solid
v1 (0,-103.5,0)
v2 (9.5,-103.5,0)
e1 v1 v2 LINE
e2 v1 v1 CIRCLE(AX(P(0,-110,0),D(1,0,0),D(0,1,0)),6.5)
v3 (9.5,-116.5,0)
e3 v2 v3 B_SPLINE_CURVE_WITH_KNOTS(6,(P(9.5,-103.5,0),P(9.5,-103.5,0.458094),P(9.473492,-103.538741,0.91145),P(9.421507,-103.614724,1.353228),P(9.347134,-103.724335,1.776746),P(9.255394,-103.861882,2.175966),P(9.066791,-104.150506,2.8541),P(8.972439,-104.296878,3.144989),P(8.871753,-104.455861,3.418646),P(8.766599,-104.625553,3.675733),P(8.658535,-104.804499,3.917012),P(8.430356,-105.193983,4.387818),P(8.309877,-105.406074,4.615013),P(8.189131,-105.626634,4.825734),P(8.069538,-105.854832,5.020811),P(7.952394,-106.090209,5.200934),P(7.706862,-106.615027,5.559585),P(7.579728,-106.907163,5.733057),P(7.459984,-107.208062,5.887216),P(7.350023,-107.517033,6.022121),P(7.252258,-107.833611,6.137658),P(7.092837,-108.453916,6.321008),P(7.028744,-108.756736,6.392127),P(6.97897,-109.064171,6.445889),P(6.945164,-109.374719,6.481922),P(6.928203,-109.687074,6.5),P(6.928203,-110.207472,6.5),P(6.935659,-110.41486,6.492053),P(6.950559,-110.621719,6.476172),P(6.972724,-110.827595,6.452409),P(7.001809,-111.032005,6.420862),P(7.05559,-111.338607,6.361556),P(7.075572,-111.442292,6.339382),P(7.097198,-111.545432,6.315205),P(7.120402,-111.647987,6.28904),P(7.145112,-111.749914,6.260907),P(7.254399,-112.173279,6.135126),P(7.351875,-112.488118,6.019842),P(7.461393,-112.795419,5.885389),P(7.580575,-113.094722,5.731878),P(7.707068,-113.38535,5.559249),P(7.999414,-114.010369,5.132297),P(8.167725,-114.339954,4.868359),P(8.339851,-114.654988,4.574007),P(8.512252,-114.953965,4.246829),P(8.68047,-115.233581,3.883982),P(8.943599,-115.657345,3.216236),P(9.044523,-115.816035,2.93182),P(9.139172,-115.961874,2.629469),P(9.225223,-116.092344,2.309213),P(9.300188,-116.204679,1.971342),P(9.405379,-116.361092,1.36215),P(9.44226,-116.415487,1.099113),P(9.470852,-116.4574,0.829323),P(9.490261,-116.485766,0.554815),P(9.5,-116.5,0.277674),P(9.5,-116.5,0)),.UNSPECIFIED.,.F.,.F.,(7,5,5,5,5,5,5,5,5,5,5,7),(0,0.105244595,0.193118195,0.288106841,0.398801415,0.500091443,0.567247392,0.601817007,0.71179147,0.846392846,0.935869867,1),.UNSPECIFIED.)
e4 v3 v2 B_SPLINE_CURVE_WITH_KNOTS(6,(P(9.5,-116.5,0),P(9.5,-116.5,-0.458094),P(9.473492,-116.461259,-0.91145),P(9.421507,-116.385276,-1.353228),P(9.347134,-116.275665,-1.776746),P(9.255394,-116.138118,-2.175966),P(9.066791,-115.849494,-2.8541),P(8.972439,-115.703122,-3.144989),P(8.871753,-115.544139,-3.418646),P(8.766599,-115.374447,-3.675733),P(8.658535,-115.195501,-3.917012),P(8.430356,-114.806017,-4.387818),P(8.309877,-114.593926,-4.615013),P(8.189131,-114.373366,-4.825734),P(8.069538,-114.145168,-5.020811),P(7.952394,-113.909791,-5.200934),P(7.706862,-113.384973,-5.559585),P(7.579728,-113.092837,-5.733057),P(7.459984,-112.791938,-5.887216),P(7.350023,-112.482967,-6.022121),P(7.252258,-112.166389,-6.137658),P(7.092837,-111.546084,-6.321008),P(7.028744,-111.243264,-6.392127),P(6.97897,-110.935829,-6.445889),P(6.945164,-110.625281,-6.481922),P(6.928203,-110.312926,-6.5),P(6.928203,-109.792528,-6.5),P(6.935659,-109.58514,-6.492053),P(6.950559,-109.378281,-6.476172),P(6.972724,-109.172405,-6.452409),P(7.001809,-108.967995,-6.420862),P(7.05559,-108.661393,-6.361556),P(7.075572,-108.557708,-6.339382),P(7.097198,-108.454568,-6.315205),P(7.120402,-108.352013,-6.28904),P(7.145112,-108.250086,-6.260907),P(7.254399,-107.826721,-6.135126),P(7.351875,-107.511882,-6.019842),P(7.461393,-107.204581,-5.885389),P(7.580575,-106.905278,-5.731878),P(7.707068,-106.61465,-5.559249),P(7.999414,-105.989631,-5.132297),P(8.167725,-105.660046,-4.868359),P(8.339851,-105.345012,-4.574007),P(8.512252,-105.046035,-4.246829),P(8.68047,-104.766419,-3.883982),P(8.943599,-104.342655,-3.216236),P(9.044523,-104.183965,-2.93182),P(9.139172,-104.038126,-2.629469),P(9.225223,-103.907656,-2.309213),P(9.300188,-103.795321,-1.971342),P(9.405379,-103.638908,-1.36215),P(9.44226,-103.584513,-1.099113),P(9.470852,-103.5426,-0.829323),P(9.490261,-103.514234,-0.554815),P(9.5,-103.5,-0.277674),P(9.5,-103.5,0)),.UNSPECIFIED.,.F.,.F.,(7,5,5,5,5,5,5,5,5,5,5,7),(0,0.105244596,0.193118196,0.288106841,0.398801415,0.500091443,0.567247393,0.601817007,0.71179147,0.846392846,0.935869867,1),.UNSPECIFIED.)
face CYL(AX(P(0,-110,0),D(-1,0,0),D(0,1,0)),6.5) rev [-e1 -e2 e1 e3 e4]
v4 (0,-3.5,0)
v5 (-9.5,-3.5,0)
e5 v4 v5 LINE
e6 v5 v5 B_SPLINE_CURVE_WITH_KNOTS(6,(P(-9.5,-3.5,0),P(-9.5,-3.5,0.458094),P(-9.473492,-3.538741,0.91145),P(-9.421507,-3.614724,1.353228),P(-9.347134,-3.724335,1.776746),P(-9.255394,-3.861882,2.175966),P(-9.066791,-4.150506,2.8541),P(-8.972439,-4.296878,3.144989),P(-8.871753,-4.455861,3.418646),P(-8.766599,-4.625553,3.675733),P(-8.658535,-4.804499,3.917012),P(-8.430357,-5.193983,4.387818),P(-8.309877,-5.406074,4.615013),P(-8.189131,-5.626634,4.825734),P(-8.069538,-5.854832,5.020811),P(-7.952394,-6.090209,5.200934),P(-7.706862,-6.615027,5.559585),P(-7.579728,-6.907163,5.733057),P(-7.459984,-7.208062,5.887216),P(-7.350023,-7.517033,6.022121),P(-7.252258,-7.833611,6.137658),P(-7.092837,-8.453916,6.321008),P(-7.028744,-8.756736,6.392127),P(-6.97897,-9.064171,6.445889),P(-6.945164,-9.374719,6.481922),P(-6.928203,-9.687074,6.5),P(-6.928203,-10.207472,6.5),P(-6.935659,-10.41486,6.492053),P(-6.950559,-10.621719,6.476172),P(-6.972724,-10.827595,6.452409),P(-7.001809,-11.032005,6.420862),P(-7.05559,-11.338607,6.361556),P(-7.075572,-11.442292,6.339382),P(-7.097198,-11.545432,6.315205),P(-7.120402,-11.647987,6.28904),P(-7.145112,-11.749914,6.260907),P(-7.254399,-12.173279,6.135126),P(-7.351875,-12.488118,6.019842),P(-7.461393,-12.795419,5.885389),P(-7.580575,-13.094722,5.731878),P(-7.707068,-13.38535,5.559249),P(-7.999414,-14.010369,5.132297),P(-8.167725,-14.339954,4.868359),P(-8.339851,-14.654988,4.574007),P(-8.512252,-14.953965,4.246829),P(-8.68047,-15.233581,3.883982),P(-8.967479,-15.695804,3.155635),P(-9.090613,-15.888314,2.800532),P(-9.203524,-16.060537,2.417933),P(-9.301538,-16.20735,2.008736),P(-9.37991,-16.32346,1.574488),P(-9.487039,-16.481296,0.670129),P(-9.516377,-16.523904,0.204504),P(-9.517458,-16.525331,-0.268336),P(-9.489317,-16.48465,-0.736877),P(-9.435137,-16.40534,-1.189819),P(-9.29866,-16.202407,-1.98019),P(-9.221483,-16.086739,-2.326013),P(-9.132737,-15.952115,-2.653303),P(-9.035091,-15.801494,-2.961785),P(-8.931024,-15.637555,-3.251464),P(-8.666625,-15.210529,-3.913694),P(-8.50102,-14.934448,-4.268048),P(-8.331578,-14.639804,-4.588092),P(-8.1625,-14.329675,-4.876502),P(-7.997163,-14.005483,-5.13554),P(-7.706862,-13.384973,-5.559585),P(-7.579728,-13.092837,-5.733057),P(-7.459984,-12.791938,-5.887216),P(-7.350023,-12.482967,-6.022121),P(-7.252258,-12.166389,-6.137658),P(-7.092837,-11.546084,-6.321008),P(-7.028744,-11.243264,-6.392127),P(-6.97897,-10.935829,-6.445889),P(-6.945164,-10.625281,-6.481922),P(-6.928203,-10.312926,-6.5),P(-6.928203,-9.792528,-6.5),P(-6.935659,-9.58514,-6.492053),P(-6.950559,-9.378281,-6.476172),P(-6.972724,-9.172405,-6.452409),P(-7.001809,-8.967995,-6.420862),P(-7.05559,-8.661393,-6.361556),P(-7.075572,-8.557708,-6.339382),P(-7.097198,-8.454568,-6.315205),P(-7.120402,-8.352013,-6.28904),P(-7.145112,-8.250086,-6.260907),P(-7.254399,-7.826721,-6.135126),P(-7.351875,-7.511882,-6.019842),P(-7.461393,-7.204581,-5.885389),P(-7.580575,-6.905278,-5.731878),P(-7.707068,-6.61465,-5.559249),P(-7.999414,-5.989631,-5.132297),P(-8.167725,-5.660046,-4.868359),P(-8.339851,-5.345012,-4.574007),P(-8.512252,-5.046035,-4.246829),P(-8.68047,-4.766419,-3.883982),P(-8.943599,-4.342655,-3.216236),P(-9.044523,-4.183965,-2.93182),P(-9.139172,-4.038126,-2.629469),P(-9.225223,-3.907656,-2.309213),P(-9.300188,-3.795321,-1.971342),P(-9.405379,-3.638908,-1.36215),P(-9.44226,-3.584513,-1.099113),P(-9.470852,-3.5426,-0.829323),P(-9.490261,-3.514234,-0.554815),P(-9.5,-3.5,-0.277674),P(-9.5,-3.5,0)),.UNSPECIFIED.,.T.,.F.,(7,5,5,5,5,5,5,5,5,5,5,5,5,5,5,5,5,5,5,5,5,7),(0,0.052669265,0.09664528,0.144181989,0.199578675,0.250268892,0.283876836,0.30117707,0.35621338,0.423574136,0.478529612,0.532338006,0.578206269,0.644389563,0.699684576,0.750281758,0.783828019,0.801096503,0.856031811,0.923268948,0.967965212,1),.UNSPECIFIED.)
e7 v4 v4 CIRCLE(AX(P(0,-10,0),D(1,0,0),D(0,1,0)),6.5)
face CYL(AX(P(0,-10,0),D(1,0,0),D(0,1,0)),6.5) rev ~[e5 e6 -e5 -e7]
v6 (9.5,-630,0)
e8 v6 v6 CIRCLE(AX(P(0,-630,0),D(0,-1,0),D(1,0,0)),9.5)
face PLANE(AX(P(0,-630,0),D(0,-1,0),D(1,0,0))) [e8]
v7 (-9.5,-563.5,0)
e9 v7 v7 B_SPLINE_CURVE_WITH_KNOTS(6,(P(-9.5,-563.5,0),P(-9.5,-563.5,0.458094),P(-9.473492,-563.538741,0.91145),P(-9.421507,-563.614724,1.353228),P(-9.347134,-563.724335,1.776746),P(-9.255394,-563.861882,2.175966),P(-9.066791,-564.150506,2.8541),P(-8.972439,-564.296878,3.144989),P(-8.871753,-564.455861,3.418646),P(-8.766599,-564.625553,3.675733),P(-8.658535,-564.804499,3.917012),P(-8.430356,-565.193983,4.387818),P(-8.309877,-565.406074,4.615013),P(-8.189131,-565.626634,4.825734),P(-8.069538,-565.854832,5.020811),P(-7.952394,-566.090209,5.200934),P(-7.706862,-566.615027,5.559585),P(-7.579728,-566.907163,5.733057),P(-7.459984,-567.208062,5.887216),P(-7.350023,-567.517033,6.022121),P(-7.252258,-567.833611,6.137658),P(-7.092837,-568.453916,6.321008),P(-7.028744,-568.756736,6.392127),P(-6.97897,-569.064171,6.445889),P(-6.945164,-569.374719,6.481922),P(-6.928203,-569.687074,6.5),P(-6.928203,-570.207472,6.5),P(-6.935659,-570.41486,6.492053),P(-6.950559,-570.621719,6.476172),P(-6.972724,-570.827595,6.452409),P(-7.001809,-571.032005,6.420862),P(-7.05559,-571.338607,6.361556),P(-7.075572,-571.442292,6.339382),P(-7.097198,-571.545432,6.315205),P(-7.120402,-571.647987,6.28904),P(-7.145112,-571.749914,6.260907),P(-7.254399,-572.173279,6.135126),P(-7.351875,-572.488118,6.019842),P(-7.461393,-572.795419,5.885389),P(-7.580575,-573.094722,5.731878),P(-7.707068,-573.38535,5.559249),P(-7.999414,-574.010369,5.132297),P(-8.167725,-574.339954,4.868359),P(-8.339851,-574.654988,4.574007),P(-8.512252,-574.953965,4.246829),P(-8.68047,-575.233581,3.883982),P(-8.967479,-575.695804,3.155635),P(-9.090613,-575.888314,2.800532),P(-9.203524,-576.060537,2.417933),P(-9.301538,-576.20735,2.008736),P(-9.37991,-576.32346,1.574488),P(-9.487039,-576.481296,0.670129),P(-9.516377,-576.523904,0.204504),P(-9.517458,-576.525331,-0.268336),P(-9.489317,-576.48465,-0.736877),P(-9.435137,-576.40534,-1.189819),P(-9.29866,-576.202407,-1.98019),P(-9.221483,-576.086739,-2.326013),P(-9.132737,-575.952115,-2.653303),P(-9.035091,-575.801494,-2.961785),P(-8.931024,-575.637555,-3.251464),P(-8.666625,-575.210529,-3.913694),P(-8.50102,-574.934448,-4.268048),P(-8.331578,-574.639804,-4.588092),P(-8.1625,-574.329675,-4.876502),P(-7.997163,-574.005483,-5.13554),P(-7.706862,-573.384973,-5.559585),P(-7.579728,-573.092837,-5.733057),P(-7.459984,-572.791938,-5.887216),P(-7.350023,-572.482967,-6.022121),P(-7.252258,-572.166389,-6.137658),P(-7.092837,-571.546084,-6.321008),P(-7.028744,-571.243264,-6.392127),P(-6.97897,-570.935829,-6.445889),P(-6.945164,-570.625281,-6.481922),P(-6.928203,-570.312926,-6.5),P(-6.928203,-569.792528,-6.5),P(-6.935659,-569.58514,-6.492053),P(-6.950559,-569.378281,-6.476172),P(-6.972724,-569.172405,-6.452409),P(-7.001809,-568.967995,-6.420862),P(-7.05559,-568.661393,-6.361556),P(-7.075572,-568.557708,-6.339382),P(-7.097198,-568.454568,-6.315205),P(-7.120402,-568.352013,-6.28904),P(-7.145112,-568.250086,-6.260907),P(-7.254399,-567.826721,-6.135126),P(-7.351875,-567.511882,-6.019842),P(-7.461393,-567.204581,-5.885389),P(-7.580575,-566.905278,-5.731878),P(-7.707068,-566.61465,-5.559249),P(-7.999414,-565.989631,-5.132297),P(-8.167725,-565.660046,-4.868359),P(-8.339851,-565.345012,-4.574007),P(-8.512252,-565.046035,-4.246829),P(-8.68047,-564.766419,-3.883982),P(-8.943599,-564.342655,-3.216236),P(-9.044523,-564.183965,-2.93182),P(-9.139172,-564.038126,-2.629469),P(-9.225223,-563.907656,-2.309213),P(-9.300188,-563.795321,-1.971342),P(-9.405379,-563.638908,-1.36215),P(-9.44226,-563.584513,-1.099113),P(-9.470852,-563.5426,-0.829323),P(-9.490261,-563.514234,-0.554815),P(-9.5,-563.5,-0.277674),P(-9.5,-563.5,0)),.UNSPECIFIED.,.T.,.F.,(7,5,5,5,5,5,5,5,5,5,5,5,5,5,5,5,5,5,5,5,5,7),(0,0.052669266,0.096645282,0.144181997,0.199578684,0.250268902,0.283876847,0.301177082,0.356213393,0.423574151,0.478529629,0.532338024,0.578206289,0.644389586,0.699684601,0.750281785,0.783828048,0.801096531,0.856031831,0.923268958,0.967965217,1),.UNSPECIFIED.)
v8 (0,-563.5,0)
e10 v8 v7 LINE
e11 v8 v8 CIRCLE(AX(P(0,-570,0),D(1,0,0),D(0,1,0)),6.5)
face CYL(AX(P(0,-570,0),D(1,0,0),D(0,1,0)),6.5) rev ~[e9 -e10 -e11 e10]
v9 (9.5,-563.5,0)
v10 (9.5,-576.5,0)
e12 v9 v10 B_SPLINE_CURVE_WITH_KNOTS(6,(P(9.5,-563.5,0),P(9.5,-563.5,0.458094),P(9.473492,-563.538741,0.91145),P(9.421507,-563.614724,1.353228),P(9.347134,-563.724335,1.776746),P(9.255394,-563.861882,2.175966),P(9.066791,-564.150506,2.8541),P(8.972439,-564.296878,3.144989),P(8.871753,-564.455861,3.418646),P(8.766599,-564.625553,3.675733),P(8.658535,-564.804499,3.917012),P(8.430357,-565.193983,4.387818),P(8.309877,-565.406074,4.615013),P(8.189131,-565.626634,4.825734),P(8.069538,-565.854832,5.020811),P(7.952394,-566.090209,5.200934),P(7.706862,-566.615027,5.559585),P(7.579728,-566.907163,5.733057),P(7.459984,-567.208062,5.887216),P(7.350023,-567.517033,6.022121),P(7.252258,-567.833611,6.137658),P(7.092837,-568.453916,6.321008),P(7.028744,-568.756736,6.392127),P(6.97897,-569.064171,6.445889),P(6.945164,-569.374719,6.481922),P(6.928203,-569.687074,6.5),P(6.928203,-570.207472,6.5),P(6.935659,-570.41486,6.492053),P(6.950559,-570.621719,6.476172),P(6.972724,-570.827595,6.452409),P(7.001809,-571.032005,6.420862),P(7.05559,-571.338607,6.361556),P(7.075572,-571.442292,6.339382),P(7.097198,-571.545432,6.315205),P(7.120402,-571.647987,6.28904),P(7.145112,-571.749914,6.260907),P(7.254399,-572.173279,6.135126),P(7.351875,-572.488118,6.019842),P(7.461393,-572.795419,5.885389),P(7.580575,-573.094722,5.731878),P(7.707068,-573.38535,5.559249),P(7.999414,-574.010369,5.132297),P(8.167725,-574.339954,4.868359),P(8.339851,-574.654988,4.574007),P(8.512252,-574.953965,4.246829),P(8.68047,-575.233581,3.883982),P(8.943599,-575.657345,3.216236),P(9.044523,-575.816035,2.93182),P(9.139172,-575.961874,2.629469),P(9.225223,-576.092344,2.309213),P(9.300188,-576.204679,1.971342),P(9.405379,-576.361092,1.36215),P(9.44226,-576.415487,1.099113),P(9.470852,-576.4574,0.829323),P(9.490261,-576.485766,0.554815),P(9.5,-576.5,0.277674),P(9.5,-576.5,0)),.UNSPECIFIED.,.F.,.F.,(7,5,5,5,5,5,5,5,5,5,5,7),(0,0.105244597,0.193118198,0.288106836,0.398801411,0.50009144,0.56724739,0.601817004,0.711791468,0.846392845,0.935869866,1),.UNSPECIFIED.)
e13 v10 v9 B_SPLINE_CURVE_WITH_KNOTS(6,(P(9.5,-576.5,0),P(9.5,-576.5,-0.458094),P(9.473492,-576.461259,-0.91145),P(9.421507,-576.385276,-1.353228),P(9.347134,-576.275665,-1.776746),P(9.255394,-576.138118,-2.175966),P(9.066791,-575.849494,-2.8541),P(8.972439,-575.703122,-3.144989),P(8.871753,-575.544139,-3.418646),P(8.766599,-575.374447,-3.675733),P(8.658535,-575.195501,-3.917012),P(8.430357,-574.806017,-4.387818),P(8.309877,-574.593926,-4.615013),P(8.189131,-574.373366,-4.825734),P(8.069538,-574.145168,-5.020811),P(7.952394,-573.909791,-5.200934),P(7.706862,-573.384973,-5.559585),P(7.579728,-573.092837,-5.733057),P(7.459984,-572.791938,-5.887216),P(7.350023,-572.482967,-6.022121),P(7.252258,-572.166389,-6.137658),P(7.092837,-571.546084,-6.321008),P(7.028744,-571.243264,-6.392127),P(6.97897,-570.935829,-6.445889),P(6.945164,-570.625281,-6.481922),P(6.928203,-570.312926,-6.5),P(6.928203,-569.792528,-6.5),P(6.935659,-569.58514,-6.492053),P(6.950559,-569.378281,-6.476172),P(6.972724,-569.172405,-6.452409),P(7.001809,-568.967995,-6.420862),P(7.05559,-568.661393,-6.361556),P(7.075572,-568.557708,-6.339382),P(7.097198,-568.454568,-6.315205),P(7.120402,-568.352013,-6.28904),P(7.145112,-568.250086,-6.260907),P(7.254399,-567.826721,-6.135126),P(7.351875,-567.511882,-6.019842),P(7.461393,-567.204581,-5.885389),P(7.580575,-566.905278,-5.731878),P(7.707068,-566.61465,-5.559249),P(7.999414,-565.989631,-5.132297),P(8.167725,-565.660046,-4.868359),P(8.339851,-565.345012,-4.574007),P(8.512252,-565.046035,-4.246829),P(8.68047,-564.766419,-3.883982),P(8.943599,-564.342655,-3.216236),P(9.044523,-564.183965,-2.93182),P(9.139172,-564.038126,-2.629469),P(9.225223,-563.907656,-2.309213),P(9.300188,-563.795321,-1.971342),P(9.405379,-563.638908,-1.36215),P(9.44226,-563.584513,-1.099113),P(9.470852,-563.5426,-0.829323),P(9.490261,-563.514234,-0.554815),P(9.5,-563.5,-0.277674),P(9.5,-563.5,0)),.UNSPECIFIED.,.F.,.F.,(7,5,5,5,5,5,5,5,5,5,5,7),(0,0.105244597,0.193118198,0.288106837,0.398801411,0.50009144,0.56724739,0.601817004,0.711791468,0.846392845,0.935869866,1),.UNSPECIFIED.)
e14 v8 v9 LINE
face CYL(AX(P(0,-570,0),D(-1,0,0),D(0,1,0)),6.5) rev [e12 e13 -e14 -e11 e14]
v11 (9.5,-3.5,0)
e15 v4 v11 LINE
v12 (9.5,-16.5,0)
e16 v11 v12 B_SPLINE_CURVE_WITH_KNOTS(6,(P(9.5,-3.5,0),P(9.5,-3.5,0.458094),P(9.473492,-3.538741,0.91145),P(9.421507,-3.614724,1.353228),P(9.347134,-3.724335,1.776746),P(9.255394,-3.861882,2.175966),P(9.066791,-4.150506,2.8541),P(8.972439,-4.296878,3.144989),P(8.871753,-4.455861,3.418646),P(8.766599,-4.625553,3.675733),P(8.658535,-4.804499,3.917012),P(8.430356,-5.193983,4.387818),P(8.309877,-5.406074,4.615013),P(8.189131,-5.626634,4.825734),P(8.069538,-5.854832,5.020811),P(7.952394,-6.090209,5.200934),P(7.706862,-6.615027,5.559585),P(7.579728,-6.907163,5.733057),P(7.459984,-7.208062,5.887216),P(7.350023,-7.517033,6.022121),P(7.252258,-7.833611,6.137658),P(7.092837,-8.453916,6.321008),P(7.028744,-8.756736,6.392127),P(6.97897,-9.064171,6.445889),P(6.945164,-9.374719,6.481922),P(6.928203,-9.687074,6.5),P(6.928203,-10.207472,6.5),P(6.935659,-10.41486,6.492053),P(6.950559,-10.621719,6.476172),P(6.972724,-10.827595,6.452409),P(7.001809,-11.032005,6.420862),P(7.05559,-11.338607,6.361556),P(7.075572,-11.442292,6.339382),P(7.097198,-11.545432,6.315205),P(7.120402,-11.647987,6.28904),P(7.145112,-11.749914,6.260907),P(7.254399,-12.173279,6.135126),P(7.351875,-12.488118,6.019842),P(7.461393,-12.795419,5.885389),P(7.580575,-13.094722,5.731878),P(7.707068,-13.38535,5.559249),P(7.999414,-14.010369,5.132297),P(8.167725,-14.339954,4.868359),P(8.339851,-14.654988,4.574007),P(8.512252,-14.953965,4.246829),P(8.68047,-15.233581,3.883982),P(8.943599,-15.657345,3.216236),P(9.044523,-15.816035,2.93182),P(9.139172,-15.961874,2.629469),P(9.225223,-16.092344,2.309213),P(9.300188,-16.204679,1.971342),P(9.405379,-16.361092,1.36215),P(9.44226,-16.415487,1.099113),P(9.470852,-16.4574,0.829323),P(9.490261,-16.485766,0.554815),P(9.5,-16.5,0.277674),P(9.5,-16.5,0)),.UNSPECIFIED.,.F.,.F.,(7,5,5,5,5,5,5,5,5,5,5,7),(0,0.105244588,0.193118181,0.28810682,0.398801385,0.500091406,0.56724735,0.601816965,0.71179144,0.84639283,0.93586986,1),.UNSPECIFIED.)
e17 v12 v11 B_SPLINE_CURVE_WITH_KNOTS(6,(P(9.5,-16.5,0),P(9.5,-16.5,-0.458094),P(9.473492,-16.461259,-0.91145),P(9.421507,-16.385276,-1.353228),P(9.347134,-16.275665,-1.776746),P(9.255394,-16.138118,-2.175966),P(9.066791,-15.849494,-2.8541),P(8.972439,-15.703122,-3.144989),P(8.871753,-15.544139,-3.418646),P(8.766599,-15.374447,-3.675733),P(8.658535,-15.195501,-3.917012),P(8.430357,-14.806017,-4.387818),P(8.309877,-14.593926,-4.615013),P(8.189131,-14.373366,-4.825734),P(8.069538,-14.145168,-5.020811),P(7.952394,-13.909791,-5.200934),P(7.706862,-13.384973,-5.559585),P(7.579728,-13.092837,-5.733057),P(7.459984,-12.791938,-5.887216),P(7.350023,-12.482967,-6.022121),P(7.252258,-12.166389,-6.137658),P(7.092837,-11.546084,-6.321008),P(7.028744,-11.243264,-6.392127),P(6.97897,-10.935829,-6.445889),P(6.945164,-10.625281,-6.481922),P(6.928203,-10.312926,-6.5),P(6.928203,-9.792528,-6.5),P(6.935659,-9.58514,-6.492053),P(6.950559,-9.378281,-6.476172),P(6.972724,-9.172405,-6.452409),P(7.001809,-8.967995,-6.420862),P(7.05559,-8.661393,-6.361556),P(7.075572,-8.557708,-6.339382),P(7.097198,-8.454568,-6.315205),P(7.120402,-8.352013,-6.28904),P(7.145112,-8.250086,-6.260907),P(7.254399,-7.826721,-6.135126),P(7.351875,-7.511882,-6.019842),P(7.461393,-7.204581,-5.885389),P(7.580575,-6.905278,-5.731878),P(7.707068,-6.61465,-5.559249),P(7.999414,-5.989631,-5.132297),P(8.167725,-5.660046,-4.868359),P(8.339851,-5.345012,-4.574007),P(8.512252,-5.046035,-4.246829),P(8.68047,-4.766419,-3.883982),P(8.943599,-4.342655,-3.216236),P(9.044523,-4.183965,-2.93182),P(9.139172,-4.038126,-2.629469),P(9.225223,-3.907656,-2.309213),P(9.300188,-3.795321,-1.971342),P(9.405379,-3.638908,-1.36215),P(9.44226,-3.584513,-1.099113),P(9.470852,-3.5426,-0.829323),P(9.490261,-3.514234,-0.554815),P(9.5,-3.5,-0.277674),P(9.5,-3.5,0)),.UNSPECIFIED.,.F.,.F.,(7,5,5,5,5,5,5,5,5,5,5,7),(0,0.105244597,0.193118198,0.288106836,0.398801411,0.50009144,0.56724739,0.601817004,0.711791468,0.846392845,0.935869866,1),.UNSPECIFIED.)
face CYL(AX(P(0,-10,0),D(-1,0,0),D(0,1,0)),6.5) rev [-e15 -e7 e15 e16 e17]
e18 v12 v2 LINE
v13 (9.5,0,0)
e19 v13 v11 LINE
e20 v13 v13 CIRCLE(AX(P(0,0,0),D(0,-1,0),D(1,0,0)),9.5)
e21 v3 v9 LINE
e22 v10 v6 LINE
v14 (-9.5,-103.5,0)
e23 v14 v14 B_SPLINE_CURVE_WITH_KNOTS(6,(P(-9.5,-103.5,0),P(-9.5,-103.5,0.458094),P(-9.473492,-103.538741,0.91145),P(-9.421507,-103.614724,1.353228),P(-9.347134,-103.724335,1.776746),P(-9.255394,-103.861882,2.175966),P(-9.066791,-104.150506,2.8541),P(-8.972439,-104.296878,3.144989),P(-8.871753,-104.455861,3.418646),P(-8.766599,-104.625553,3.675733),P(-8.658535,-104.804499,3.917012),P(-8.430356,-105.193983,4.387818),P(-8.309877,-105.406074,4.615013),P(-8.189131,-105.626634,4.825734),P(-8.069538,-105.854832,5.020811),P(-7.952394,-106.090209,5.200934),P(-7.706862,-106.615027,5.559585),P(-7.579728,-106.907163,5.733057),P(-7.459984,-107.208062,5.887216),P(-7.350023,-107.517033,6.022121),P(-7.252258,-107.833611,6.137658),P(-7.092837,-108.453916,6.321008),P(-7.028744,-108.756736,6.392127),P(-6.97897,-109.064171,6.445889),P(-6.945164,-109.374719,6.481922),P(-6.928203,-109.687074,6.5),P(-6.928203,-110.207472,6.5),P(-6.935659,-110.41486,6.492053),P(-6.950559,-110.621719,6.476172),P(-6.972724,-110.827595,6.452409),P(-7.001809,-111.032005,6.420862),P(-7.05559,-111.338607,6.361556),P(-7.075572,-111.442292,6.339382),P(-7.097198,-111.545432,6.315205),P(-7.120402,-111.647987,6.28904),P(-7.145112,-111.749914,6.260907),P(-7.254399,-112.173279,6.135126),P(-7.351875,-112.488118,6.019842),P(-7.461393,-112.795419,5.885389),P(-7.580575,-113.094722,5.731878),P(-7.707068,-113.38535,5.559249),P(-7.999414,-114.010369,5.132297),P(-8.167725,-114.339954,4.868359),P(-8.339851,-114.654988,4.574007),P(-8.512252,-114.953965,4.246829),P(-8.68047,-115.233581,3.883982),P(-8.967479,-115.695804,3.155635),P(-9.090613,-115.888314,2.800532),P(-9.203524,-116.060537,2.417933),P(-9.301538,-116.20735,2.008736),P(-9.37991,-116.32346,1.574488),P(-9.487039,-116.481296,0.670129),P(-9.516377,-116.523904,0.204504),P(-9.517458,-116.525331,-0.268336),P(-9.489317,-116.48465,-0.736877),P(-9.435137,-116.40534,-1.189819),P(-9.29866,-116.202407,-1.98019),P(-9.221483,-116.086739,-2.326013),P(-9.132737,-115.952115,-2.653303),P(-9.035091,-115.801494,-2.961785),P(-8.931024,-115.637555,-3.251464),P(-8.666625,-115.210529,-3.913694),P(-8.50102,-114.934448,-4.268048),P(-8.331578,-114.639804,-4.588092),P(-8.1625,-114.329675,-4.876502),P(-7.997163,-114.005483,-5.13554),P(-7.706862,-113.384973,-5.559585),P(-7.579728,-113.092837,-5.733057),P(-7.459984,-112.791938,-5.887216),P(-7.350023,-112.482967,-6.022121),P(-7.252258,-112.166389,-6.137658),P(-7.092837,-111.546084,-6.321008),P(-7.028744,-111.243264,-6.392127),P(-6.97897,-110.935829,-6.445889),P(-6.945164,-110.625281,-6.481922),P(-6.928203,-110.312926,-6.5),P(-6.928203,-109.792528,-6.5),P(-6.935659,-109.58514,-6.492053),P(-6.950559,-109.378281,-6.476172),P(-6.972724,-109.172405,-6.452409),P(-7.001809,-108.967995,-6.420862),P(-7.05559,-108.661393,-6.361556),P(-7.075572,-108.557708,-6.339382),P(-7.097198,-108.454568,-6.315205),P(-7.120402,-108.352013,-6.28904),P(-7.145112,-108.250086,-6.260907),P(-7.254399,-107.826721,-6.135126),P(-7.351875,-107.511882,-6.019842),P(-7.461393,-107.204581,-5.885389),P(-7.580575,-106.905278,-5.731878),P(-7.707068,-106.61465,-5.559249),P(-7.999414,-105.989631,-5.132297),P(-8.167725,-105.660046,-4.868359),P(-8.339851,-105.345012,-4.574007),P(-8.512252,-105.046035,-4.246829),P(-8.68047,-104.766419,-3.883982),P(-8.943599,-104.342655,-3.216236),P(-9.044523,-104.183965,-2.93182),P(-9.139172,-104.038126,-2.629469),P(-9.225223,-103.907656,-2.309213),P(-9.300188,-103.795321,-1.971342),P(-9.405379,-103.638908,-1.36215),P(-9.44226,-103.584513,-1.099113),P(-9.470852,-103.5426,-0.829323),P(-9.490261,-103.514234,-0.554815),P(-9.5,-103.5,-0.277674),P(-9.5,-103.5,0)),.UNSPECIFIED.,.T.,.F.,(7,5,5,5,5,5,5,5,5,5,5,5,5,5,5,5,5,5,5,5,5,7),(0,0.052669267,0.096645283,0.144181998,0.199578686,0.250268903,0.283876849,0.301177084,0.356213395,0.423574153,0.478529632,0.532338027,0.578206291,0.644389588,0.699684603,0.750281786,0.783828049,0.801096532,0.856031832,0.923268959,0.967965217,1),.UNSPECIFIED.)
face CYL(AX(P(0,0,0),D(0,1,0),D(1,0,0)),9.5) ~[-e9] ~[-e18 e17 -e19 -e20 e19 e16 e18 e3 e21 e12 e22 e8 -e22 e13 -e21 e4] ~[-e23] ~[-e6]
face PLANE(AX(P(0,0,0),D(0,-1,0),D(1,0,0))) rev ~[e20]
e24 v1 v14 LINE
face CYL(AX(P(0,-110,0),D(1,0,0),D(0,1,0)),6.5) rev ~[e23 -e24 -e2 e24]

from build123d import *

# Parameters (mm, degrees)
F0_R          = 9.5
F1_DEPTH      = 630
F2_R          = 6.5
F3_DEPTH      = 25
F3_DEPTH_BACK = 25


with BuildPart() as f1:
    # F0 (on Front) → F1 (new body)
    with BuildSketch(Plane.XZ):
        Circle(F0_R)
    extrude(amount=F1_DEPTH)

    # F2 (on Right) → F3 (cut, two sides)
    with BuildSketch(Plane.YZ) as f3_sk:
        with Locations((-10, 0)):
            Circle(F2_R)
        with Locations((-110, 0)):
            Circle(F2_R)
        with Locations((-570, 0)):
            Circle(F2_R)
    extrude(amount=F3_DEPTH, mode=Mode.SUBTRACT)
    extrude(f3_sk.sketch, amount=-F3_DEPTH_BACK, mode=Mode.SUBTRACT)


solid = f1.part
